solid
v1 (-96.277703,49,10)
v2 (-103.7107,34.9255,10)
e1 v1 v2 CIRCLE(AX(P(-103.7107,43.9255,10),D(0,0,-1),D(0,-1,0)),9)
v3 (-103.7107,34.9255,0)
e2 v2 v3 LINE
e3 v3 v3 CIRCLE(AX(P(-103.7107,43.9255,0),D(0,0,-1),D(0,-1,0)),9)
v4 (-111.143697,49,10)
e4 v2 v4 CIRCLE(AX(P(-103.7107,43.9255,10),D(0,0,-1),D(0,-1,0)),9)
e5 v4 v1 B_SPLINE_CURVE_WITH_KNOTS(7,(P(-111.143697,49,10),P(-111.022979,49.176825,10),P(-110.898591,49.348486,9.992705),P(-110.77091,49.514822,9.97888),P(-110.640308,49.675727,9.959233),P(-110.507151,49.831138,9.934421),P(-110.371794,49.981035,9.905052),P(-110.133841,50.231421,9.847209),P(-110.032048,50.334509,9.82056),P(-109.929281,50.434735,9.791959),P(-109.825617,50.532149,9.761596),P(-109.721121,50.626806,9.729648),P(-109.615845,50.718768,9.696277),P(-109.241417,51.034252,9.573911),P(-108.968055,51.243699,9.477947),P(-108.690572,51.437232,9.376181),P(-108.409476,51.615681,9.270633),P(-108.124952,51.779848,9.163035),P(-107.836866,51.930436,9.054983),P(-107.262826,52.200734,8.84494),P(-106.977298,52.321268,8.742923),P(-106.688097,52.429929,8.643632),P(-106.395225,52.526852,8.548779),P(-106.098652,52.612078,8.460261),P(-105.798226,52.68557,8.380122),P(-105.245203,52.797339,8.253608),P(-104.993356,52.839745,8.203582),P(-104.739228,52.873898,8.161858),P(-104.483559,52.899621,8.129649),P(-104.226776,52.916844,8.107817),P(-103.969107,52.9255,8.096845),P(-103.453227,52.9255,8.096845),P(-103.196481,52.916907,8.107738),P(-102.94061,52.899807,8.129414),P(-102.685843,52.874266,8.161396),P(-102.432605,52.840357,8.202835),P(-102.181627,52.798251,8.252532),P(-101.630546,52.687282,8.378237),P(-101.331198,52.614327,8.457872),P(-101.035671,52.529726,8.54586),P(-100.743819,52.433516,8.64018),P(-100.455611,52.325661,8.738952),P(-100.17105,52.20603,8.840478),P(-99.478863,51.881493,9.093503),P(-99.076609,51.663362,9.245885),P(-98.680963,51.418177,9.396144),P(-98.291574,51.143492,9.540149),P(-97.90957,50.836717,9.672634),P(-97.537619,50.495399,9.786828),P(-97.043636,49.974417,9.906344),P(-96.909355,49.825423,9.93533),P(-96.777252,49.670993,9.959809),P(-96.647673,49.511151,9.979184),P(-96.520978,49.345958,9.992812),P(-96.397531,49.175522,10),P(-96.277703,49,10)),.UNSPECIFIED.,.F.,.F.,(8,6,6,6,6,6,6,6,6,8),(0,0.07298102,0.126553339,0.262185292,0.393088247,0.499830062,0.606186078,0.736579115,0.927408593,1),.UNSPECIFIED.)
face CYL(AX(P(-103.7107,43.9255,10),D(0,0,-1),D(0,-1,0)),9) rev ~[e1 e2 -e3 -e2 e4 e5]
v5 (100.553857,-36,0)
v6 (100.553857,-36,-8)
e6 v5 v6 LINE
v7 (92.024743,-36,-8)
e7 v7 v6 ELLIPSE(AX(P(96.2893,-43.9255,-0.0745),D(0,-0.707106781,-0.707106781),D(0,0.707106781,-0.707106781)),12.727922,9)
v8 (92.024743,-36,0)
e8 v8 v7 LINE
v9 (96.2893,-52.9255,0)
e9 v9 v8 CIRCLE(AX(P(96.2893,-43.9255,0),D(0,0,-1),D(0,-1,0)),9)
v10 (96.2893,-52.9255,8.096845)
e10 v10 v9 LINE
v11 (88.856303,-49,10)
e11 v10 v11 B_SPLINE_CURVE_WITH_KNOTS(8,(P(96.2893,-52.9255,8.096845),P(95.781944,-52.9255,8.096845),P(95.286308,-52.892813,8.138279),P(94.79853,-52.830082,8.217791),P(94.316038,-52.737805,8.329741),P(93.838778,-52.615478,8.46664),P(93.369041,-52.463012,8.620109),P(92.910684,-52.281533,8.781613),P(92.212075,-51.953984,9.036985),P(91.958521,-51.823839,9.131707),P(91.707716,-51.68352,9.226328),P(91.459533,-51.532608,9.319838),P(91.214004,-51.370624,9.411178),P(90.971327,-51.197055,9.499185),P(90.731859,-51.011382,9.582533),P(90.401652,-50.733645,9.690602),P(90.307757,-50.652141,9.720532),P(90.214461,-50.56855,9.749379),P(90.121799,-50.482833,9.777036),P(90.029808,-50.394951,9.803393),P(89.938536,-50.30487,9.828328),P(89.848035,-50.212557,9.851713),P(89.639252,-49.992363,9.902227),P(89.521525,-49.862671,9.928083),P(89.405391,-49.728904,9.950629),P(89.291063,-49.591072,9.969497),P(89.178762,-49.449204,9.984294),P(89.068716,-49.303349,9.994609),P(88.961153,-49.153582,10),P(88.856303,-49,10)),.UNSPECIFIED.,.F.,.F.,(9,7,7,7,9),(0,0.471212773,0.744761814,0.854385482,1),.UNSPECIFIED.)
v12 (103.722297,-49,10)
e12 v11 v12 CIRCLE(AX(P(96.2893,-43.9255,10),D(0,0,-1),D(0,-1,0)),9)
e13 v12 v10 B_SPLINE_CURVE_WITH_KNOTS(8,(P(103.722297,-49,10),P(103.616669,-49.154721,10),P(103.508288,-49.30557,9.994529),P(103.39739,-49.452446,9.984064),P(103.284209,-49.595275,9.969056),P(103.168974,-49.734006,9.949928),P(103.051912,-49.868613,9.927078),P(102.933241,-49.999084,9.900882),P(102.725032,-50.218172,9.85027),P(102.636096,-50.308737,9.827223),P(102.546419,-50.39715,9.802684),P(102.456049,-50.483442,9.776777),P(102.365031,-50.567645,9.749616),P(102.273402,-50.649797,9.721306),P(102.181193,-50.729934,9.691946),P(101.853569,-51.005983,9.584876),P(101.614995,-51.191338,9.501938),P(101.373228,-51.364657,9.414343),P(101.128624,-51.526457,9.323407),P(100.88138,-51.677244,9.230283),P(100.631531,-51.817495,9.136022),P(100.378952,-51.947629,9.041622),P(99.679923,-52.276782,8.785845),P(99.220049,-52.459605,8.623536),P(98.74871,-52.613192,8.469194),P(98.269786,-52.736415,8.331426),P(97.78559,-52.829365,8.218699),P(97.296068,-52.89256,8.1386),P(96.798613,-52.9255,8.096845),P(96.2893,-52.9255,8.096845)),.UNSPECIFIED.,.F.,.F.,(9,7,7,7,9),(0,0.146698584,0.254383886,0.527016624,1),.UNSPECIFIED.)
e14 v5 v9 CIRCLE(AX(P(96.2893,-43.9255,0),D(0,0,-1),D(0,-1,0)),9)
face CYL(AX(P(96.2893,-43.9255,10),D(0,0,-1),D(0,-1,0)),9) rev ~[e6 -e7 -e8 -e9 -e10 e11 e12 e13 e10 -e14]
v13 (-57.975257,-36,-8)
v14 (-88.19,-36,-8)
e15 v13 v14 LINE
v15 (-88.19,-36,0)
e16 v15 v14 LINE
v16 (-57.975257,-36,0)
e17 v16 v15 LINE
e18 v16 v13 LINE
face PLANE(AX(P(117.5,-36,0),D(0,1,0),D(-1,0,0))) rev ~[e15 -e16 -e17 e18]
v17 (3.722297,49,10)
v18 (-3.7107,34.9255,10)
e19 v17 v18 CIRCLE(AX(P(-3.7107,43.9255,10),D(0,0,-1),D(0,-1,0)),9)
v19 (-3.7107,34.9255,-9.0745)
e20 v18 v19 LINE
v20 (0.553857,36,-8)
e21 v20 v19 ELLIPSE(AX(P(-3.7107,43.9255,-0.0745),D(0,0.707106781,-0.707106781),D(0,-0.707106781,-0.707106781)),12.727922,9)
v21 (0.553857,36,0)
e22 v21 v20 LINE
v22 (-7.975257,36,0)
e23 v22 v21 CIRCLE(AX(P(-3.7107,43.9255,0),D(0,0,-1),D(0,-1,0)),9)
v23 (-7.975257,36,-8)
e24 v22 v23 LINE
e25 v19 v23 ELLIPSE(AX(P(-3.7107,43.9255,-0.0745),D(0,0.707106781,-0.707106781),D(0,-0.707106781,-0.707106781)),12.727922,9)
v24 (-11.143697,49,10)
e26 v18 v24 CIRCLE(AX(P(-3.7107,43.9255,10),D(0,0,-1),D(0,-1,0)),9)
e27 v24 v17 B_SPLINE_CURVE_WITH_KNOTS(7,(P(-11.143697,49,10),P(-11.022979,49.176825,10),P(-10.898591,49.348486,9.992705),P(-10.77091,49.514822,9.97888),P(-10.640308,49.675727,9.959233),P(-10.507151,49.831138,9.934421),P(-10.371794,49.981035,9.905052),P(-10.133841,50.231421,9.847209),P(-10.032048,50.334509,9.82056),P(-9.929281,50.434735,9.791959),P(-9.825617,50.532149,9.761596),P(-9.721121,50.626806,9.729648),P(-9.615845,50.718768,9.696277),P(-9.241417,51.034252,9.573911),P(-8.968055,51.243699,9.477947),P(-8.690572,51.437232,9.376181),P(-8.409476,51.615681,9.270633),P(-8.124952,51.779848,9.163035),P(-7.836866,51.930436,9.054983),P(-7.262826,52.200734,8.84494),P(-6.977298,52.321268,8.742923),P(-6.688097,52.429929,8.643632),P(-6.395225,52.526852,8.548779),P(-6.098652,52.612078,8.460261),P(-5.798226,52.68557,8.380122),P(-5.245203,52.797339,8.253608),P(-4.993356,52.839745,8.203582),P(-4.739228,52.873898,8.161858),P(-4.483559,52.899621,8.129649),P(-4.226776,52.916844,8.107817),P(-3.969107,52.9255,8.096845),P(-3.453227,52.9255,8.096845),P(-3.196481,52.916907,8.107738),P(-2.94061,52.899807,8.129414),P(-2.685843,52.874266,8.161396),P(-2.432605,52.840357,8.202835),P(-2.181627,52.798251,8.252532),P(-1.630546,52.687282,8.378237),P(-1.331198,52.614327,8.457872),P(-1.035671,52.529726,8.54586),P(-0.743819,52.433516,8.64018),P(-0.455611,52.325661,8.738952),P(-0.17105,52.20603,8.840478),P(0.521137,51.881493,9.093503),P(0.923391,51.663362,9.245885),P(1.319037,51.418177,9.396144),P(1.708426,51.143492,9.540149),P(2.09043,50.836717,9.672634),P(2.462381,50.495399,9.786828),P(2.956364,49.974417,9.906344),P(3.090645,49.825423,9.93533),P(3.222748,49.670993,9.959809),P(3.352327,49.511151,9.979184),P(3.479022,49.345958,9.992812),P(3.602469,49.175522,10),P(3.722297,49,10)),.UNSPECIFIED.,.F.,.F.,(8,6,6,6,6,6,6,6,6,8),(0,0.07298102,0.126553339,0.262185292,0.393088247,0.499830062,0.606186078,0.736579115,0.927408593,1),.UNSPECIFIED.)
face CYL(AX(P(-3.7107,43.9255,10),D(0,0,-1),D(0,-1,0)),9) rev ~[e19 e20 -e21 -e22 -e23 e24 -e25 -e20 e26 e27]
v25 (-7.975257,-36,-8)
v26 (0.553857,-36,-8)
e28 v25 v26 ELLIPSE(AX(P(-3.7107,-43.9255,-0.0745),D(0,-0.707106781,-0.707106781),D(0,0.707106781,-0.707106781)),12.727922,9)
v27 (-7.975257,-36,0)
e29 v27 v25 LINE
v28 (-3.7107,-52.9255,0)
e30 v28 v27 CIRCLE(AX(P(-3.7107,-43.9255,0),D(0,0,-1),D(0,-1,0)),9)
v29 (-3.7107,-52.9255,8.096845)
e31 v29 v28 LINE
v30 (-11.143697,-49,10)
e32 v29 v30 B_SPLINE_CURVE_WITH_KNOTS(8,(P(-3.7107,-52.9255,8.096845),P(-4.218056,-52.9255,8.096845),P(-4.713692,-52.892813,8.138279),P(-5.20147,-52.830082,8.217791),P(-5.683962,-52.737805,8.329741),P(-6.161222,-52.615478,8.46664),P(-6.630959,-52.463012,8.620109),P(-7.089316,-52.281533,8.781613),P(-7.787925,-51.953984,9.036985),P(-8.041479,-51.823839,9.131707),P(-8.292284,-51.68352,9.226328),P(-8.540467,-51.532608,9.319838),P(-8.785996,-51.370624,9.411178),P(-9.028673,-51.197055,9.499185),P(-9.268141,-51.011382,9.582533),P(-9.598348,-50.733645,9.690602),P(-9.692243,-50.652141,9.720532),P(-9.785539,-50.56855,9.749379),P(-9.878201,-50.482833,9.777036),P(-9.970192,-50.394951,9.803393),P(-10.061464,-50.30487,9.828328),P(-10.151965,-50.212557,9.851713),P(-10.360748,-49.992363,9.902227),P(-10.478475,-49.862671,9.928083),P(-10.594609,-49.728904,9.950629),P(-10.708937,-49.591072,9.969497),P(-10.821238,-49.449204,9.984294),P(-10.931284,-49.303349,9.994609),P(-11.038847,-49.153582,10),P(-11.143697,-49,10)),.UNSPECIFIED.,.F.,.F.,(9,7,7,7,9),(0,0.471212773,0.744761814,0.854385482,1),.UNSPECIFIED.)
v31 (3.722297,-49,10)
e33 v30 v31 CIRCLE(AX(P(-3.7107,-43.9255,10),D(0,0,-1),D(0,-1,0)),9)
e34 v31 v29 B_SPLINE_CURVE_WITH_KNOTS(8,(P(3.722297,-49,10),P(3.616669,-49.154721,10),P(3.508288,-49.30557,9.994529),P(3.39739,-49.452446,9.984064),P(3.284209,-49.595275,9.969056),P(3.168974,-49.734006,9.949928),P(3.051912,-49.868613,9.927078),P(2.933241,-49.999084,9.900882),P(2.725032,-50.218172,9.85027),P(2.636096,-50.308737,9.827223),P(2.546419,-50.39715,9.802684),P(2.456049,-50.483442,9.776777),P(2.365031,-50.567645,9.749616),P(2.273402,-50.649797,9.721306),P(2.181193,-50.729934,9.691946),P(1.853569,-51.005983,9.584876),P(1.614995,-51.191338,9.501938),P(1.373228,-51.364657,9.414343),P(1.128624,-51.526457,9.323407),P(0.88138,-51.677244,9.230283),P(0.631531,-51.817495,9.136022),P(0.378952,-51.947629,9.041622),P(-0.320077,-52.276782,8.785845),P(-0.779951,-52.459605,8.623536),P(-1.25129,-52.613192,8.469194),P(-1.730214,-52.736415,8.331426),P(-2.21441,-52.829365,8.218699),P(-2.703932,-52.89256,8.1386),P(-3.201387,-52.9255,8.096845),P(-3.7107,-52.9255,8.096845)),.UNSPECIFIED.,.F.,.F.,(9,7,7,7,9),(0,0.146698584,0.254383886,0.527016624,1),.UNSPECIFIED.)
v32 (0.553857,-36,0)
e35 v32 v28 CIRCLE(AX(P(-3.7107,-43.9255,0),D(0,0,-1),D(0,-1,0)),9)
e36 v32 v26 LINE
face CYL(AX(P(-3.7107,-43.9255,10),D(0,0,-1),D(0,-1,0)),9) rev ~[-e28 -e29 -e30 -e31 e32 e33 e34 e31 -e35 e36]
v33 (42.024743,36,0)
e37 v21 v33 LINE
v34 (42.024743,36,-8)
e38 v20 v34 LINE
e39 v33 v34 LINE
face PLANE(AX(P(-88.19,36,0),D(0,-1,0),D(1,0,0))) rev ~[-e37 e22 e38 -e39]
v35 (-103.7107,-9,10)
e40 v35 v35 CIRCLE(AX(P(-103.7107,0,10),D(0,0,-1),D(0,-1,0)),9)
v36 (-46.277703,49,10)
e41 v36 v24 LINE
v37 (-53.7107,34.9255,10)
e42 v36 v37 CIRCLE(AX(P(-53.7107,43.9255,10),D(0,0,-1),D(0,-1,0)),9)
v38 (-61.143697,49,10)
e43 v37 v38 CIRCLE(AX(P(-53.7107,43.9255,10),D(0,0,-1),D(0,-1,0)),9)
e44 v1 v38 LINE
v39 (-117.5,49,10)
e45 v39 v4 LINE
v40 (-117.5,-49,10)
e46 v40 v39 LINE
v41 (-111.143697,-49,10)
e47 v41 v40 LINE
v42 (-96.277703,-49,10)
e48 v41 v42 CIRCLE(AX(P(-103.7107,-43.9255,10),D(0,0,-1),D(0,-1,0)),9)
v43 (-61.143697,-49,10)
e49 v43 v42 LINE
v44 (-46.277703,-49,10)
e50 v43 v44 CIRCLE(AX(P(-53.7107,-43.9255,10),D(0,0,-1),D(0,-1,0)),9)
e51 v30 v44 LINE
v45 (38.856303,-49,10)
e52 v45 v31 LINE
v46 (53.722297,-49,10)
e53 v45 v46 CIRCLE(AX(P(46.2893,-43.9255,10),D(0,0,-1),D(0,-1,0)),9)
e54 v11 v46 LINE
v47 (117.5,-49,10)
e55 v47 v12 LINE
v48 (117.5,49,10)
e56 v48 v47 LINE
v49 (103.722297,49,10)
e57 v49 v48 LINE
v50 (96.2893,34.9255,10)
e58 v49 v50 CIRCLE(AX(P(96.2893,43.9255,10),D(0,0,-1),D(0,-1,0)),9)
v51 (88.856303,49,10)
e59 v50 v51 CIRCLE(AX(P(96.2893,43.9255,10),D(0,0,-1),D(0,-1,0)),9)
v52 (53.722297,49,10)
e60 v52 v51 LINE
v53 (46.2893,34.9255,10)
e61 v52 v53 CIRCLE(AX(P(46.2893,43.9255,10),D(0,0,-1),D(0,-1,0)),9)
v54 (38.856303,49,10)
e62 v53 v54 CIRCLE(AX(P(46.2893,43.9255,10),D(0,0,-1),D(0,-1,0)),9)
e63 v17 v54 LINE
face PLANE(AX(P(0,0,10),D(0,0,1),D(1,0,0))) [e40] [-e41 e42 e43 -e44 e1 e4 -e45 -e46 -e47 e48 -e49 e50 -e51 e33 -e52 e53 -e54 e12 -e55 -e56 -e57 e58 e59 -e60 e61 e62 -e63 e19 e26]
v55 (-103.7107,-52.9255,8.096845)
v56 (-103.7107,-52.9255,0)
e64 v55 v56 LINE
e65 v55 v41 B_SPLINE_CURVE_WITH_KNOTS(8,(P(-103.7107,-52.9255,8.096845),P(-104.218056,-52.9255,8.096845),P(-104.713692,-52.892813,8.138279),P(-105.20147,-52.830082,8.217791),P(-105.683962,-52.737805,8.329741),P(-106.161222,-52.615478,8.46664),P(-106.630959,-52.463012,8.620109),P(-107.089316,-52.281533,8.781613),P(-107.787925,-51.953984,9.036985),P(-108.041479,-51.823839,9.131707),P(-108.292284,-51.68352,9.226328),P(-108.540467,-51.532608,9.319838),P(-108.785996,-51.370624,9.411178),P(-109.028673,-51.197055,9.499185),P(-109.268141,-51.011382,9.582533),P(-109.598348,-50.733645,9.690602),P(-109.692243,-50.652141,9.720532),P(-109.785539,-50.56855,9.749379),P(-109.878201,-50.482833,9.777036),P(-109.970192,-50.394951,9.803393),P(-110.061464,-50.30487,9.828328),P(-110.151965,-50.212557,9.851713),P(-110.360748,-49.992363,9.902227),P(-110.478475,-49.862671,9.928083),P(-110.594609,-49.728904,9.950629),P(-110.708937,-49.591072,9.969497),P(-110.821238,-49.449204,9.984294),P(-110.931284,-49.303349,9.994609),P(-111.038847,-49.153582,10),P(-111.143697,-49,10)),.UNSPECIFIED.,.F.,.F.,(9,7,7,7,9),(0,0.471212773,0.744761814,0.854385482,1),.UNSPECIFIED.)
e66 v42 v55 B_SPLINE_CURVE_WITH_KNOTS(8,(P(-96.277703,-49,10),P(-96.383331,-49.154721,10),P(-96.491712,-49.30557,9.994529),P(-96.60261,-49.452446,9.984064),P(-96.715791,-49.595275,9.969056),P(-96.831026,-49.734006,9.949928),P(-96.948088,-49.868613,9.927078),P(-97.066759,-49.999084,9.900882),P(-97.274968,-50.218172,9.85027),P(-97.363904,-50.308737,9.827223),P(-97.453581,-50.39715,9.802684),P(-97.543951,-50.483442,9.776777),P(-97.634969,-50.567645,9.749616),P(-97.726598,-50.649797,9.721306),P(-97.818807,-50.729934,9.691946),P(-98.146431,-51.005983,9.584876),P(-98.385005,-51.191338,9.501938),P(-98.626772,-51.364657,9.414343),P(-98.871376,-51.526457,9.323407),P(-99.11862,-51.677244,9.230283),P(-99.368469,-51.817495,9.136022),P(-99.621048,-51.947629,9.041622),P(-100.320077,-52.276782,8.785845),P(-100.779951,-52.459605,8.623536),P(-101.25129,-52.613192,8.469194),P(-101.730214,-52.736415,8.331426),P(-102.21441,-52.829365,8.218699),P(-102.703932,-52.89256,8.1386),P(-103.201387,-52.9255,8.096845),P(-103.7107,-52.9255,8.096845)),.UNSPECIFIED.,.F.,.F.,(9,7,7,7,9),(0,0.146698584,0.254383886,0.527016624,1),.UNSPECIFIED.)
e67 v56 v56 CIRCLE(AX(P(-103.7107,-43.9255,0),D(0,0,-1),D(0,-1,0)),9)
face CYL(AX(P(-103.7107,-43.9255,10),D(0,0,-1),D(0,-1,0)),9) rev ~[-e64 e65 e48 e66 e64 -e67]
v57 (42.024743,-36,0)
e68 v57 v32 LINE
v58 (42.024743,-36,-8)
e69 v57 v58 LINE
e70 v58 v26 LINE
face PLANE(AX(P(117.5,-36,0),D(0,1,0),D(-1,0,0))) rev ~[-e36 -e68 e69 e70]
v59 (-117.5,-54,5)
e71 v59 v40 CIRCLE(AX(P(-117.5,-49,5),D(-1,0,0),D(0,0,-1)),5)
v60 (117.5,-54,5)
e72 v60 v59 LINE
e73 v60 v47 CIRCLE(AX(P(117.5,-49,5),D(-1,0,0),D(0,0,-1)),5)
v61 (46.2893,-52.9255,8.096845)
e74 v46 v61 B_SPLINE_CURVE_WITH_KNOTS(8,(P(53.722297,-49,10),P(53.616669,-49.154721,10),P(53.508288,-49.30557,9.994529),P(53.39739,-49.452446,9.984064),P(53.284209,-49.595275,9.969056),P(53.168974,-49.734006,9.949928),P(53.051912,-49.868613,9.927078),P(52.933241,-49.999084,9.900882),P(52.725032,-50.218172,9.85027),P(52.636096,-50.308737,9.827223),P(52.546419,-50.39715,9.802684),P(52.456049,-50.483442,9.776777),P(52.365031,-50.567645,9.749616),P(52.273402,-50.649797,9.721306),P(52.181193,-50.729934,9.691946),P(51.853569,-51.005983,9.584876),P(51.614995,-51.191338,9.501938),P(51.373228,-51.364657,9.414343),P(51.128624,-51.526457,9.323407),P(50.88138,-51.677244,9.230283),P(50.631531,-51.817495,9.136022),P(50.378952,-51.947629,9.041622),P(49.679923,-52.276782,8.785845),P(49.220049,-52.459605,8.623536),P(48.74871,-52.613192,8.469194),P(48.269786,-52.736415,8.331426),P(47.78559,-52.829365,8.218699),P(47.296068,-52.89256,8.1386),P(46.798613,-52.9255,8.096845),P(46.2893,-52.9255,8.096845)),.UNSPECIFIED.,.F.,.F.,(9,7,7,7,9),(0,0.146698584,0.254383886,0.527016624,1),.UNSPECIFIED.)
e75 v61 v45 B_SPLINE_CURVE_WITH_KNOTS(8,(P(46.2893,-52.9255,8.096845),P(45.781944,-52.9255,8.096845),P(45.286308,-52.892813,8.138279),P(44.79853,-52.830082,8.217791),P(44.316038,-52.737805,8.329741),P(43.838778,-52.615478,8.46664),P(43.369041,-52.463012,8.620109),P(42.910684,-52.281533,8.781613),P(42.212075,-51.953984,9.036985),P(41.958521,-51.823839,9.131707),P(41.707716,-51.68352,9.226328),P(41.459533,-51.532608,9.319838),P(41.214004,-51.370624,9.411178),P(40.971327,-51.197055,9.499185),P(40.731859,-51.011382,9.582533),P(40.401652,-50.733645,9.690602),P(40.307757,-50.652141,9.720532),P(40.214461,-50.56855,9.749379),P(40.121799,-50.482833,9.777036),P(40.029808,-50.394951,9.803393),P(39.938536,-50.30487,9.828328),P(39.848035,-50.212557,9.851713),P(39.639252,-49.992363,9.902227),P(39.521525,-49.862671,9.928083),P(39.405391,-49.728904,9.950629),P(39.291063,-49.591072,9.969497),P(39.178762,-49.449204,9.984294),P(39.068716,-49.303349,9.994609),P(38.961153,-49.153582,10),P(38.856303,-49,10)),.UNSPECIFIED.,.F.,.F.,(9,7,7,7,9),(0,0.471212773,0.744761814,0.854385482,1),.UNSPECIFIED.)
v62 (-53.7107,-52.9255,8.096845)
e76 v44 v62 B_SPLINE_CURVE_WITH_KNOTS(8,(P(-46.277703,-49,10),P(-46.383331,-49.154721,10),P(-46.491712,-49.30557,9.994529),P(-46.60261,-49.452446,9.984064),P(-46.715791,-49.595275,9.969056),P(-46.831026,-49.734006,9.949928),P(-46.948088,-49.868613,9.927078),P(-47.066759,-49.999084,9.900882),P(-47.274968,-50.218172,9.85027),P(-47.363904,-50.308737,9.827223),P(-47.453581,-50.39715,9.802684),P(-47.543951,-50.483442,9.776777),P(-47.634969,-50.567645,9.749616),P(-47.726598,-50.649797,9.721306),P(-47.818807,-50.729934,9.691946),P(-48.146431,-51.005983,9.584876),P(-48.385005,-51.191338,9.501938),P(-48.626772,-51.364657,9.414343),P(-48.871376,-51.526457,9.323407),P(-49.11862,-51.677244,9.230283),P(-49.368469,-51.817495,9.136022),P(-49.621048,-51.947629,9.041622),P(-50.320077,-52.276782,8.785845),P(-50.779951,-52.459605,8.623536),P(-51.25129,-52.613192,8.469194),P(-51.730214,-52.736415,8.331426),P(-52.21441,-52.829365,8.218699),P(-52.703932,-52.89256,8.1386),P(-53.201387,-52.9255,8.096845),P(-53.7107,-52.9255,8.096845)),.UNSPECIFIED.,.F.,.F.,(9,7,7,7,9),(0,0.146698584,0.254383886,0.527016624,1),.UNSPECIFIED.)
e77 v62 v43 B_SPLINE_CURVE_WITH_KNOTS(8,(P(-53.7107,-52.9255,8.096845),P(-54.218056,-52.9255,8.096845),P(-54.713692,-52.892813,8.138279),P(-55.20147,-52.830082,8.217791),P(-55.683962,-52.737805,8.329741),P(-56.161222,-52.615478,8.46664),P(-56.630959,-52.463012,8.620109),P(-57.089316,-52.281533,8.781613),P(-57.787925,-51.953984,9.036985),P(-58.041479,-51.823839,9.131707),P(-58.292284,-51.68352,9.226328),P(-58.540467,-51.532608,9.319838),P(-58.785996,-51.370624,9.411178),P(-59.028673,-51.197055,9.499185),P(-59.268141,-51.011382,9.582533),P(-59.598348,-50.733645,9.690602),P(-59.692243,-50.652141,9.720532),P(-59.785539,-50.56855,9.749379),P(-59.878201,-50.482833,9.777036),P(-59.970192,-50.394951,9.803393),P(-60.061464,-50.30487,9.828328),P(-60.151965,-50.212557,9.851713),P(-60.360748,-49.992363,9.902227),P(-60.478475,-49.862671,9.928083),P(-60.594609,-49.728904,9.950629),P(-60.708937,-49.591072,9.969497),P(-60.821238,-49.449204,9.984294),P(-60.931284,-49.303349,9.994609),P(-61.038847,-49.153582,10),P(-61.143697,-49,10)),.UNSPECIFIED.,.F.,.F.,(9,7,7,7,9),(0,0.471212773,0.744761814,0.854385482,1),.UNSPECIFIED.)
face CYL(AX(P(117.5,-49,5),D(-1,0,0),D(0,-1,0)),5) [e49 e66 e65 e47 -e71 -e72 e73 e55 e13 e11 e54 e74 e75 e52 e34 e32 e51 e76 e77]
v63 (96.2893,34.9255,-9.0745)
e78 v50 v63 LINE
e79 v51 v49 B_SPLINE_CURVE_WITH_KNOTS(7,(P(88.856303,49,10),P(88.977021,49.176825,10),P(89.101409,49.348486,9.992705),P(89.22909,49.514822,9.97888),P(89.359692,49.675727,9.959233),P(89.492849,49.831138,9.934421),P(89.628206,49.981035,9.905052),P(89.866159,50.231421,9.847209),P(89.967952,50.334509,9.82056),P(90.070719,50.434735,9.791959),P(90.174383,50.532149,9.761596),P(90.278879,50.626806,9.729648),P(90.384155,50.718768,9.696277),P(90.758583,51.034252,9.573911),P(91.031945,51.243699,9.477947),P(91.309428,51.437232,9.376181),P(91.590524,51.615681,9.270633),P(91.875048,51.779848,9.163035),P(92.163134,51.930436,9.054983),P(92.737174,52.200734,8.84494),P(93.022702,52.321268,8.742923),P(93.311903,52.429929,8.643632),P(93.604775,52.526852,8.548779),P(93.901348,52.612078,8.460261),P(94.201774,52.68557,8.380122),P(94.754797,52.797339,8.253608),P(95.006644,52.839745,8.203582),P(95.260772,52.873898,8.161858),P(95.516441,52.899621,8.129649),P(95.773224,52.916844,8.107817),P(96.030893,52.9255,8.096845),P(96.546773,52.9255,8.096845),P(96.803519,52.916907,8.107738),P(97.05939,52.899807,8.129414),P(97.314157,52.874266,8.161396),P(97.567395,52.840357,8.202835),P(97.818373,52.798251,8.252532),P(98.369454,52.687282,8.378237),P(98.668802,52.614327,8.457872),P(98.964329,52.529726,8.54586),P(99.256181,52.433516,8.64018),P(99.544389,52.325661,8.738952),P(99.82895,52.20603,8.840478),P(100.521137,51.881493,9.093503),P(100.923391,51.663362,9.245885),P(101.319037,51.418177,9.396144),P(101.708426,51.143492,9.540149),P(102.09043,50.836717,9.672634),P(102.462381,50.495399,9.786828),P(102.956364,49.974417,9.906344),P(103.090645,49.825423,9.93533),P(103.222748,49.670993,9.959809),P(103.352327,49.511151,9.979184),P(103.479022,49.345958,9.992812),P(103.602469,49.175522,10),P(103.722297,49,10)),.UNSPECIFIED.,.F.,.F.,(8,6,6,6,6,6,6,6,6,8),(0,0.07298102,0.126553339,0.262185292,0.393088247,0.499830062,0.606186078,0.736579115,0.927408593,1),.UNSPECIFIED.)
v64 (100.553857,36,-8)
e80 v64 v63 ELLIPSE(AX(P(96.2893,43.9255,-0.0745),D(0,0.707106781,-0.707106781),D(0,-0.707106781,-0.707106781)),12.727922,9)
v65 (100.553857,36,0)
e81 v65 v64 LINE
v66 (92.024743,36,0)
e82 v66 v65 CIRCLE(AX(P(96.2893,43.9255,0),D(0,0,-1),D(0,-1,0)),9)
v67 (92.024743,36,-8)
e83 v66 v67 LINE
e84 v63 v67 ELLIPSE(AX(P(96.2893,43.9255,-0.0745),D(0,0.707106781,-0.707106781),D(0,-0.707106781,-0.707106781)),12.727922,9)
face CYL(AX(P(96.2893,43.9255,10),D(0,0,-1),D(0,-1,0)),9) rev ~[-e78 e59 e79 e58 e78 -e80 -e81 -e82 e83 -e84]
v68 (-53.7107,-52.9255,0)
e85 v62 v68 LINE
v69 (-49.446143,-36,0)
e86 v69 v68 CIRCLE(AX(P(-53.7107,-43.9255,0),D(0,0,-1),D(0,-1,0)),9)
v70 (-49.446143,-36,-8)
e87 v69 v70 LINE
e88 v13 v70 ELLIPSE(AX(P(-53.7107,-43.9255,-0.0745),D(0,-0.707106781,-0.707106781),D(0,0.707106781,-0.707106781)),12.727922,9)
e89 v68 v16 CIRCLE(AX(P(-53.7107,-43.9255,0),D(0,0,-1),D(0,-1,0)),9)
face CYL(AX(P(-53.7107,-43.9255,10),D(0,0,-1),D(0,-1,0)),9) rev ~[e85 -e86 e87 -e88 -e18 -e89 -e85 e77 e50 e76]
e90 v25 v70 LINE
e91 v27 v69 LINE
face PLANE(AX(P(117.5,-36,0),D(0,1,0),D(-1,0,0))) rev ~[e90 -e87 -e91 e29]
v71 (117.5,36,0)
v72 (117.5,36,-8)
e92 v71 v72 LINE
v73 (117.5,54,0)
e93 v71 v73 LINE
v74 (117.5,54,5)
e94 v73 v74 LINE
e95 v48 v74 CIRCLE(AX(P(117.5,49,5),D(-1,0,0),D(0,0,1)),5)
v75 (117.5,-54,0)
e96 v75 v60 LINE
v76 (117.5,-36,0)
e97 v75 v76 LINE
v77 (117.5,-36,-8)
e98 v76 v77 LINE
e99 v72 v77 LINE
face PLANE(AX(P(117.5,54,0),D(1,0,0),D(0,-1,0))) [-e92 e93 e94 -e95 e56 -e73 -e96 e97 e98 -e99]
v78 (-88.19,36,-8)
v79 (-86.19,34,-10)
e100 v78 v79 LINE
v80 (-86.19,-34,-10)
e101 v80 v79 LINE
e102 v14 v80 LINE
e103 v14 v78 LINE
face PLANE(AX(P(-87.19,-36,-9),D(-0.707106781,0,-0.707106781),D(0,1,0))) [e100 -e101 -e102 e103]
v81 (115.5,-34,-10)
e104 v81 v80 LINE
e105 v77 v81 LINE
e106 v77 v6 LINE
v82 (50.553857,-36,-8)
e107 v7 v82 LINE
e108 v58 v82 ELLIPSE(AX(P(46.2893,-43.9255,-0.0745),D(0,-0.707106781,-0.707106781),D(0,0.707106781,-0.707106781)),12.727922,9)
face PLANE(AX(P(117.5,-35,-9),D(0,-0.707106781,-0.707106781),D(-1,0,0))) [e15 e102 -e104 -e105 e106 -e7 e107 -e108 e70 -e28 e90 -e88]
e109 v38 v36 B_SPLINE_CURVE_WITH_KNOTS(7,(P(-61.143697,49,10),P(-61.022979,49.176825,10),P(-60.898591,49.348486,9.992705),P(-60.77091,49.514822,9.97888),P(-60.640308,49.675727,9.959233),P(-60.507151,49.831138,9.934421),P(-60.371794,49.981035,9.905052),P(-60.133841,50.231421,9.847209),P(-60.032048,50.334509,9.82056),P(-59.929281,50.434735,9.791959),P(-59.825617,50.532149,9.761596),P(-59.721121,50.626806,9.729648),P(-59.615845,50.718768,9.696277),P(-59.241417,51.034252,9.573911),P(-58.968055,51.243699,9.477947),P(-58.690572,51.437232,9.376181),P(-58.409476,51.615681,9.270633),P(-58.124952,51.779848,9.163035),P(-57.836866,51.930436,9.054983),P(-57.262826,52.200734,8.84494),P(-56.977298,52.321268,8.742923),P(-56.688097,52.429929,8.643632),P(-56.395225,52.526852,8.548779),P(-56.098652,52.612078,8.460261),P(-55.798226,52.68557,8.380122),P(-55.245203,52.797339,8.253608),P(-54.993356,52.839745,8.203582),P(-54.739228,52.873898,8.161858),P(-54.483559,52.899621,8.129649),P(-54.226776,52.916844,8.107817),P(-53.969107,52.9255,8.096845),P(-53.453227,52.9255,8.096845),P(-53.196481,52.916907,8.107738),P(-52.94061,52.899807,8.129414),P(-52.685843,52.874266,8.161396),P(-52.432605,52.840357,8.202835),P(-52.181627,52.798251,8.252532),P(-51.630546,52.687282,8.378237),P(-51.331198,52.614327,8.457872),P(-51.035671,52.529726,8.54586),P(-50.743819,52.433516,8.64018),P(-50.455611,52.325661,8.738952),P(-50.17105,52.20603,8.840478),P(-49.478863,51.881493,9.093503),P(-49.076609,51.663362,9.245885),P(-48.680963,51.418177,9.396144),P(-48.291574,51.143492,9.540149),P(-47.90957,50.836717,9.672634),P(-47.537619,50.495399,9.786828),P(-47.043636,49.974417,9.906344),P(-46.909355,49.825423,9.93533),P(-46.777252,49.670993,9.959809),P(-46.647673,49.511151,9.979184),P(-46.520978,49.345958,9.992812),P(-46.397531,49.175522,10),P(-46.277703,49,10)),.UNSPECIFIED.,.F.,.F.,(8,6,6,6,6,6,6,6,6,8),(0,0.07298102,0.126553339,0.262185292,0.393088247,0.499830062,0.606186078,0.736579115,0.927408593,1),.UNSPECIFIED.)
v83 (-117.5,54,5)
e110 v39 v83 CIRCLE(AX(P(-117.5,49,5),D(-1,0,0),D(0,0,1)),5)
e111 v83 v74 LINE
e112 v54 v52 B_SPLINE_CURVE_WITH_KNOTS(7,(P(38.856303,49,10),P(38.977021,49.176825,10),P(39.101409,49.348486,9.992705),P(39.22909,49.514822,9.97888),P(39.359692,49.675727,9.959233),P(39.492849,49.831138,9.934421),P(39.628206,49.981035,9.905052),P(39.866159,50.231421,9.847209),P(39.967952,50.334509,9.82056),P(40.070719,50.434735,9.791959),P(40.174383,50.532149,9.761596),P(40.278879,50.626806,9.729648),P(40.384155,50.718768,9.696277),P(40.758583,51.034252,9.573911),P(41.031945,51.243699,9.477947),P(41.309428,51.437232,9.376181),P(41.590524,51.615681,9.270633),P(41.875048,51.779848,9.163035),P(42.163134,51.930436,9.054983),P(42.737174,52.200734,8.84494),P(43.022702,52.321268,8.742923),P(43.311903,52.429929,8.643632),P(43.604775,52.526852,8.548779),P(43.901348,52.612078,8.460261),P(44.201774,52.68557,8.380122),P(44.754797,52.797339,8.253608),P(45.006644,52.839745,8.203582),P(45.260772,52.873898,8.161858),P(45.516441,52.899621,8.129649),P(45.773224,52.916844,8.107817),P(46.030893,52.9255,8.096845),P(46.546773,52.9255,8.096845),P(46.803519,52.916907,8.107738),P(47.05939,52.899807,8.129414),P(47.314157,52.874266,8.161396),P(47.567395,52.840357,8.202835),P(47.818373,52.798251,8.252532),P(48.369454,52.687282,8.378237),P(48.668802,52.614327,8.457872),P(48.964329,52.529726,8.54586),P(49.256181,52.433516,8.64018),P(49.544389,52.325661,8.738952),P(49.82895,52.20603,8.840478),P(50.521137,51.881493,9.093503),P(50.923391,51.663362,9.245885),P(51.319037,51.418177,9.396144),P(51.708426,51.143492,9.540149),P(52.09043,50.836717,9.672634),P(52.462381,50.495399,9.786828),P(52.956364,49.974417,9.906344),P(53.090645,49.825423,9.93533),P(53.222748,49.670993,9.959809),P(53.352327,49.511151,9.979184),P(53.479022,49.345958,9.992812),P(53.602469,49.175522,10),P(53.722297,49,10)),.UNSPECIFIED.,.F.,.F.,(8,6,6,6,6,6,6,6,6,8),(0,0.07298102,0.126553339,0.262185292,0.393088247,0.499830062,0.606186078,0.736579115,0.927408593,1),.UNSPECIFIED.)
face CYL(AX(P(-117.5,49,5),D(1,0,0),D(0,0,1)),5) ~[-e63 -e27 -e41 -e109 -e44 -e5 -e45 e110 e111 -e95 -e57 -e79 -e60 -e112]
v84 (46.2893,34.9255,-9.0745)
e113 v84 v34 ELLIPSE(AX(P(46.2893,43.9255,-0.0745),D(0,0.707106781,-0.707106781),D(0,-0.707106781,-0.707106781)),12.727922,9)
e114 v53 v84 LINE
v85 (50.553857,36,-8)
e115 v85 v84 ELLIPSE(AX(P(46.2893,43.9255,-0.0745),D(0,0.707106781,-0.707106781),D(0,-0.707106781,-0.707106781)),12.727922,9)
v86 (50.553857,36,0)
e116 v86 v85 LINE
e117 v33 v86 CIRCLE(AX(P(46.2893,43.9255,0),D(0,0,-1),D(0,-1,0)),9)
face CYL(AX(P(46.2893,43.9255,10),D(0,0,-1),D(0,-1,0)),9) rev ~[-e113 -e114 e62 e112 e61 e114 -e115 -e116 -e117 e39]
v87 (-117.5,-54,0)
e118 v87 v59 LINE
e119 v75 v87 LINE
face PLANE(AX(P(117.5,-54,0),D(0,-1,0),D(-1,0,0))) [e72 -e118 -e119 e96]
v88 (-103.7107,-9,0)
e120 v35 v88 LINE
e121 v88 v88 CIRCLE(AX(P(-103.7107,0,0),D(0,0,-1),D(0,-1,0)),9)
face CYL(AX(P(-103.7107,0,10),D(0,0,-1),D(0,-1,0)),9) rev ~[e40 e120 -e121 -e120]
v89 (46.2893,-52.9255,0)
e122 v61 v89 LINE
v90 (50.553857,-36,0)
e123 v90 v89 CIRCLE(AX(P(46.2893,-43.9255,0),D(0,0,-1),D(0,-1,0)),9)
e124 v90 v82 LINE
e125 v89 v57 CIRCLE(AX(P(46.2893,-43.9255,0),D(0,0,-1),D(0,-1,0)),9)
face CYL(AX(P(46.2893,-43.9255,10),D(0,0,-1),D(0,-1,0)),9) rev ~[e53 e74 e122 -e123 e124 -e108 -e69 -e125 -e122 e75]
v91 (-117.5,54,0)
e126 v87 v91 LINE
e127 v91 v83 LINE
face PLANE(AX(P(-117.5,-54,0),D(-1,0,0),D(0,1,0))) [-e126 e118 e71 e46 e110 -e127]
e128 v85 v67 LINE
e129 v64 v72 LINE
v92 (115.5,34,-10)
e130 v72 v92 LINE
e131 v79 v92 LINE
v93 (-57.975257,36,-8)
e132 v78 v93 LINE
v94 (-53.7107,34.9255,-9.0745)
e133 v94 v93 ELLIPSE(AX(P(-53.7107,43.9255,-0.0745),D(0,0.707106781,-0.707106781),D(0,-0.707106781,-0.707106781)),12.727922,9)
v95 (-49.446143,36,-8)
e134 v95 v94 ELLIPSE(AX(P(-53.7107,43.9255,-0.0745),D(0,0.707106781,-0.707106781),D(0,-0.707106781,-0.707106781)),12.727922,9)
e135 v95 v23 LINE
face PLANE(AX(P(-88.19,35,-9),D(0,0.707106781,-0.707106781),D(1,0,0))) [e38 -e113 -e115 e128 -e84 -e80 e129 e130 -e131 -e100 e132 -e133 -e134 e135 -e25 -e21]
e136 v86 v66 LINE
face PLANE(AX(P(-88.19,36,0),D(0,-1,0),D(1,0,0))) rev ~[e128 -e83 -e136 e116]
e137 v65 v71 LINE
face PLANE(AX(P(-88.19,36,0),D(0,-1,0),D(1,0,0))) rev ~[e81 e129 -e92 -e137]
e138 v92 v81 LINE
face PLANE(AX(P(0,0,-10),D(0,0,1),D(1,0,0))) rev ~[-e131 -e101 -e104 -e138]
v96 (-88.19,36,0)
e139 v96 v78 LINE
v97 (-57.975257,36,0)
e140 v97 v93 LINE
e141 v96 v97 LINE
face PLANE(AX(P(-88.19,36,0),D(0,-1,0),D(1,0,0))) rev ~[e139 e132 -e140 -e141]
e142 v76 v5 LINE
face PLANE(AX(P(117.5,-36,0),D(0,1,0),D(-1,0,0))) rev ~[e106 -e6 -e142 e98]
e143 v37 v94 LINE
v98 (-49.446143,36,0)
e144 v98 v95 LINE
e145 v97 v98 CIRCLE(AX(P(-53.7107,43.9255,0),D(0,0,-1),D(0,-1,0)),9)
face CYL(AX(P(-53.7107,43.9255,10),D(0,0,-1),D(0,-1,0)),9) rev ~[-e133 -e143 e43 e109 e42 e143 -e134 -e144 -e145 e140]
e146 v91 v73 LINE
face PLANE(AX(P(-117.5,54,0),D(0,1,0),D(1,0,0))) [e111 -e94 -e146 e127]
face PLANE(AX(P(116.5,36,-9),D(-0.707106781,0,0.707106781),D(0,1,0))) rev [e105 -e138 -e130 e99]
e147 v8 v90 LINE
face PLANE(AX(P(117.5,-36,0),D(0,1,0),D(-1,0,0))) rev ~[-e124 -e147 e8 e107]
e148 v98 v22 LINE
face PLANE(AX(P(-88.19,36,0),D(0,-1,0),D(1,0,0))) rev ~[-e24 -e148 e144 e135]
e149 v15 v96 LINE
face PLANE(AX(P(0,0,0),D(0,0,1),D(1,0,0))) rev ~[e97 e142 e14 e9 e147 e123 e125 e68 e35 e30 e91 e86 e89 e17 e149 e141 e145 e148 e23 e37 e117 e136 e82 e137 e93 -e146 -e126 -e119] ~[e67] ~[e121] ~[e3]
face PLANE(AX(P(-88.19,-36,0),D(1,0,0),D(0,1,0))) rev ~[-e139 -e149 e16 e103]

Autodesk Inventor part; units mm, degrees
ref_plane "YZ Plane" through (0, 0, 0) normal (1, 0, 0) x (0, 1, 0)
ref_plane "XZ Plane" through (0, 0, 0) normal (0, 1, 0) x (-1, 0, 0)
ref_plane "XY Plane" through (0, 0, 0) normal (0, 0, 1) x (1, 0, 0)
sketch "Sketch1" plane through (0, 0, 0) normal (0, 0, 1) x (1, 0, 0)
  line L0 (-117.5, 54) -> (117.5, 54)
  line L1 (117.5, 54) -> (117.5, -54)
  line L2 (117.5, -54) -> (-117.5, -54)
  line L3 (-117.5, -54) -> (-117.5, 54)
  line L4 (-88.19, 36) -> (117.5, 36)
  line L5 (117.5, 36) -> (117.5, -36)
  line L6 (117.5, -36) -> (-88.19, -36)
  line L7 (-88.19, -36) -> (-88.19, 36)
  point P0 (0, 0)
  point P1 (117.5, 0)
  point P2 (0, 54)
  point P3 (117.5, 0)
  point P4 (117.5, -36)
  dimension "d0" = 108
  dimension "d1" = 235
  dimension "d4" = 205.69
  dimension "d5" = 72
extrude "Extrusion2" add sketch "Sketch1" against normal blind 10 contours L1 L6 L7 L4
extrude "Extrusion3" add sketch "Sketch1" along normal blind 10
chamfer "Chamfer1" distance 2 angle 45 4 edges at (14.655, -36, -10) (14.655, 36, -10) (-88.19, 0, -10) (117.5, 0, -10)
fillet "Fillet1" radius 5 2 edges at (0, 54, 10) (0, -54, 10)
sketch "Sketch3" plane through (0, 0, 10) normal (0, 0, 1) x (1, 0, 0)
  line L0 (117.5, -49) -> (-117.5, -49) projected
  line L1 (-117.5, 49) -> (117.5, 49) projected
  line L2 (-117.5, -54) -> (117.5, -54) projected
  line L3 (117.5, 54) -> (-117.5, 54) projected
  line L4 (-117.5, 49) -> (-117.5, -49) projected
  line L5 (117.5, -49) -> (117.5, 49) projected
  point P0 (-103.7107, 43.9255)
  point P1 (-103.7107, 0)
  point P2 (-103.7107, -43.9255)
  point P3 (-117.5, 0)
  dimension "d18" = 98
  dimension "d19" = 108
  dimension "d20" = 87.851
  dimension "d21" = 43.9255
  dimension "d22" = 221.2107
hole "Hole1" at (-103.7107, 43.9255, 10) at (-103.7107, -43.9255, 10) direction (0, 0, -1) diameter 18 depth 50 tip angle 118
pattern_linear "Rectangular Pattern1" count 5 spacing 50 along (1, 0, 0) of "Hole1"
hole "Hole2" at (-103.7107, 0, 10) direction (0, 0, -1) diameter 18 depth 15 tip angle 118
equation "\"d21\" = 0.5 * d20"
properties part number "Cover part of robot arm bottom side" material "Steel, Alloy"
